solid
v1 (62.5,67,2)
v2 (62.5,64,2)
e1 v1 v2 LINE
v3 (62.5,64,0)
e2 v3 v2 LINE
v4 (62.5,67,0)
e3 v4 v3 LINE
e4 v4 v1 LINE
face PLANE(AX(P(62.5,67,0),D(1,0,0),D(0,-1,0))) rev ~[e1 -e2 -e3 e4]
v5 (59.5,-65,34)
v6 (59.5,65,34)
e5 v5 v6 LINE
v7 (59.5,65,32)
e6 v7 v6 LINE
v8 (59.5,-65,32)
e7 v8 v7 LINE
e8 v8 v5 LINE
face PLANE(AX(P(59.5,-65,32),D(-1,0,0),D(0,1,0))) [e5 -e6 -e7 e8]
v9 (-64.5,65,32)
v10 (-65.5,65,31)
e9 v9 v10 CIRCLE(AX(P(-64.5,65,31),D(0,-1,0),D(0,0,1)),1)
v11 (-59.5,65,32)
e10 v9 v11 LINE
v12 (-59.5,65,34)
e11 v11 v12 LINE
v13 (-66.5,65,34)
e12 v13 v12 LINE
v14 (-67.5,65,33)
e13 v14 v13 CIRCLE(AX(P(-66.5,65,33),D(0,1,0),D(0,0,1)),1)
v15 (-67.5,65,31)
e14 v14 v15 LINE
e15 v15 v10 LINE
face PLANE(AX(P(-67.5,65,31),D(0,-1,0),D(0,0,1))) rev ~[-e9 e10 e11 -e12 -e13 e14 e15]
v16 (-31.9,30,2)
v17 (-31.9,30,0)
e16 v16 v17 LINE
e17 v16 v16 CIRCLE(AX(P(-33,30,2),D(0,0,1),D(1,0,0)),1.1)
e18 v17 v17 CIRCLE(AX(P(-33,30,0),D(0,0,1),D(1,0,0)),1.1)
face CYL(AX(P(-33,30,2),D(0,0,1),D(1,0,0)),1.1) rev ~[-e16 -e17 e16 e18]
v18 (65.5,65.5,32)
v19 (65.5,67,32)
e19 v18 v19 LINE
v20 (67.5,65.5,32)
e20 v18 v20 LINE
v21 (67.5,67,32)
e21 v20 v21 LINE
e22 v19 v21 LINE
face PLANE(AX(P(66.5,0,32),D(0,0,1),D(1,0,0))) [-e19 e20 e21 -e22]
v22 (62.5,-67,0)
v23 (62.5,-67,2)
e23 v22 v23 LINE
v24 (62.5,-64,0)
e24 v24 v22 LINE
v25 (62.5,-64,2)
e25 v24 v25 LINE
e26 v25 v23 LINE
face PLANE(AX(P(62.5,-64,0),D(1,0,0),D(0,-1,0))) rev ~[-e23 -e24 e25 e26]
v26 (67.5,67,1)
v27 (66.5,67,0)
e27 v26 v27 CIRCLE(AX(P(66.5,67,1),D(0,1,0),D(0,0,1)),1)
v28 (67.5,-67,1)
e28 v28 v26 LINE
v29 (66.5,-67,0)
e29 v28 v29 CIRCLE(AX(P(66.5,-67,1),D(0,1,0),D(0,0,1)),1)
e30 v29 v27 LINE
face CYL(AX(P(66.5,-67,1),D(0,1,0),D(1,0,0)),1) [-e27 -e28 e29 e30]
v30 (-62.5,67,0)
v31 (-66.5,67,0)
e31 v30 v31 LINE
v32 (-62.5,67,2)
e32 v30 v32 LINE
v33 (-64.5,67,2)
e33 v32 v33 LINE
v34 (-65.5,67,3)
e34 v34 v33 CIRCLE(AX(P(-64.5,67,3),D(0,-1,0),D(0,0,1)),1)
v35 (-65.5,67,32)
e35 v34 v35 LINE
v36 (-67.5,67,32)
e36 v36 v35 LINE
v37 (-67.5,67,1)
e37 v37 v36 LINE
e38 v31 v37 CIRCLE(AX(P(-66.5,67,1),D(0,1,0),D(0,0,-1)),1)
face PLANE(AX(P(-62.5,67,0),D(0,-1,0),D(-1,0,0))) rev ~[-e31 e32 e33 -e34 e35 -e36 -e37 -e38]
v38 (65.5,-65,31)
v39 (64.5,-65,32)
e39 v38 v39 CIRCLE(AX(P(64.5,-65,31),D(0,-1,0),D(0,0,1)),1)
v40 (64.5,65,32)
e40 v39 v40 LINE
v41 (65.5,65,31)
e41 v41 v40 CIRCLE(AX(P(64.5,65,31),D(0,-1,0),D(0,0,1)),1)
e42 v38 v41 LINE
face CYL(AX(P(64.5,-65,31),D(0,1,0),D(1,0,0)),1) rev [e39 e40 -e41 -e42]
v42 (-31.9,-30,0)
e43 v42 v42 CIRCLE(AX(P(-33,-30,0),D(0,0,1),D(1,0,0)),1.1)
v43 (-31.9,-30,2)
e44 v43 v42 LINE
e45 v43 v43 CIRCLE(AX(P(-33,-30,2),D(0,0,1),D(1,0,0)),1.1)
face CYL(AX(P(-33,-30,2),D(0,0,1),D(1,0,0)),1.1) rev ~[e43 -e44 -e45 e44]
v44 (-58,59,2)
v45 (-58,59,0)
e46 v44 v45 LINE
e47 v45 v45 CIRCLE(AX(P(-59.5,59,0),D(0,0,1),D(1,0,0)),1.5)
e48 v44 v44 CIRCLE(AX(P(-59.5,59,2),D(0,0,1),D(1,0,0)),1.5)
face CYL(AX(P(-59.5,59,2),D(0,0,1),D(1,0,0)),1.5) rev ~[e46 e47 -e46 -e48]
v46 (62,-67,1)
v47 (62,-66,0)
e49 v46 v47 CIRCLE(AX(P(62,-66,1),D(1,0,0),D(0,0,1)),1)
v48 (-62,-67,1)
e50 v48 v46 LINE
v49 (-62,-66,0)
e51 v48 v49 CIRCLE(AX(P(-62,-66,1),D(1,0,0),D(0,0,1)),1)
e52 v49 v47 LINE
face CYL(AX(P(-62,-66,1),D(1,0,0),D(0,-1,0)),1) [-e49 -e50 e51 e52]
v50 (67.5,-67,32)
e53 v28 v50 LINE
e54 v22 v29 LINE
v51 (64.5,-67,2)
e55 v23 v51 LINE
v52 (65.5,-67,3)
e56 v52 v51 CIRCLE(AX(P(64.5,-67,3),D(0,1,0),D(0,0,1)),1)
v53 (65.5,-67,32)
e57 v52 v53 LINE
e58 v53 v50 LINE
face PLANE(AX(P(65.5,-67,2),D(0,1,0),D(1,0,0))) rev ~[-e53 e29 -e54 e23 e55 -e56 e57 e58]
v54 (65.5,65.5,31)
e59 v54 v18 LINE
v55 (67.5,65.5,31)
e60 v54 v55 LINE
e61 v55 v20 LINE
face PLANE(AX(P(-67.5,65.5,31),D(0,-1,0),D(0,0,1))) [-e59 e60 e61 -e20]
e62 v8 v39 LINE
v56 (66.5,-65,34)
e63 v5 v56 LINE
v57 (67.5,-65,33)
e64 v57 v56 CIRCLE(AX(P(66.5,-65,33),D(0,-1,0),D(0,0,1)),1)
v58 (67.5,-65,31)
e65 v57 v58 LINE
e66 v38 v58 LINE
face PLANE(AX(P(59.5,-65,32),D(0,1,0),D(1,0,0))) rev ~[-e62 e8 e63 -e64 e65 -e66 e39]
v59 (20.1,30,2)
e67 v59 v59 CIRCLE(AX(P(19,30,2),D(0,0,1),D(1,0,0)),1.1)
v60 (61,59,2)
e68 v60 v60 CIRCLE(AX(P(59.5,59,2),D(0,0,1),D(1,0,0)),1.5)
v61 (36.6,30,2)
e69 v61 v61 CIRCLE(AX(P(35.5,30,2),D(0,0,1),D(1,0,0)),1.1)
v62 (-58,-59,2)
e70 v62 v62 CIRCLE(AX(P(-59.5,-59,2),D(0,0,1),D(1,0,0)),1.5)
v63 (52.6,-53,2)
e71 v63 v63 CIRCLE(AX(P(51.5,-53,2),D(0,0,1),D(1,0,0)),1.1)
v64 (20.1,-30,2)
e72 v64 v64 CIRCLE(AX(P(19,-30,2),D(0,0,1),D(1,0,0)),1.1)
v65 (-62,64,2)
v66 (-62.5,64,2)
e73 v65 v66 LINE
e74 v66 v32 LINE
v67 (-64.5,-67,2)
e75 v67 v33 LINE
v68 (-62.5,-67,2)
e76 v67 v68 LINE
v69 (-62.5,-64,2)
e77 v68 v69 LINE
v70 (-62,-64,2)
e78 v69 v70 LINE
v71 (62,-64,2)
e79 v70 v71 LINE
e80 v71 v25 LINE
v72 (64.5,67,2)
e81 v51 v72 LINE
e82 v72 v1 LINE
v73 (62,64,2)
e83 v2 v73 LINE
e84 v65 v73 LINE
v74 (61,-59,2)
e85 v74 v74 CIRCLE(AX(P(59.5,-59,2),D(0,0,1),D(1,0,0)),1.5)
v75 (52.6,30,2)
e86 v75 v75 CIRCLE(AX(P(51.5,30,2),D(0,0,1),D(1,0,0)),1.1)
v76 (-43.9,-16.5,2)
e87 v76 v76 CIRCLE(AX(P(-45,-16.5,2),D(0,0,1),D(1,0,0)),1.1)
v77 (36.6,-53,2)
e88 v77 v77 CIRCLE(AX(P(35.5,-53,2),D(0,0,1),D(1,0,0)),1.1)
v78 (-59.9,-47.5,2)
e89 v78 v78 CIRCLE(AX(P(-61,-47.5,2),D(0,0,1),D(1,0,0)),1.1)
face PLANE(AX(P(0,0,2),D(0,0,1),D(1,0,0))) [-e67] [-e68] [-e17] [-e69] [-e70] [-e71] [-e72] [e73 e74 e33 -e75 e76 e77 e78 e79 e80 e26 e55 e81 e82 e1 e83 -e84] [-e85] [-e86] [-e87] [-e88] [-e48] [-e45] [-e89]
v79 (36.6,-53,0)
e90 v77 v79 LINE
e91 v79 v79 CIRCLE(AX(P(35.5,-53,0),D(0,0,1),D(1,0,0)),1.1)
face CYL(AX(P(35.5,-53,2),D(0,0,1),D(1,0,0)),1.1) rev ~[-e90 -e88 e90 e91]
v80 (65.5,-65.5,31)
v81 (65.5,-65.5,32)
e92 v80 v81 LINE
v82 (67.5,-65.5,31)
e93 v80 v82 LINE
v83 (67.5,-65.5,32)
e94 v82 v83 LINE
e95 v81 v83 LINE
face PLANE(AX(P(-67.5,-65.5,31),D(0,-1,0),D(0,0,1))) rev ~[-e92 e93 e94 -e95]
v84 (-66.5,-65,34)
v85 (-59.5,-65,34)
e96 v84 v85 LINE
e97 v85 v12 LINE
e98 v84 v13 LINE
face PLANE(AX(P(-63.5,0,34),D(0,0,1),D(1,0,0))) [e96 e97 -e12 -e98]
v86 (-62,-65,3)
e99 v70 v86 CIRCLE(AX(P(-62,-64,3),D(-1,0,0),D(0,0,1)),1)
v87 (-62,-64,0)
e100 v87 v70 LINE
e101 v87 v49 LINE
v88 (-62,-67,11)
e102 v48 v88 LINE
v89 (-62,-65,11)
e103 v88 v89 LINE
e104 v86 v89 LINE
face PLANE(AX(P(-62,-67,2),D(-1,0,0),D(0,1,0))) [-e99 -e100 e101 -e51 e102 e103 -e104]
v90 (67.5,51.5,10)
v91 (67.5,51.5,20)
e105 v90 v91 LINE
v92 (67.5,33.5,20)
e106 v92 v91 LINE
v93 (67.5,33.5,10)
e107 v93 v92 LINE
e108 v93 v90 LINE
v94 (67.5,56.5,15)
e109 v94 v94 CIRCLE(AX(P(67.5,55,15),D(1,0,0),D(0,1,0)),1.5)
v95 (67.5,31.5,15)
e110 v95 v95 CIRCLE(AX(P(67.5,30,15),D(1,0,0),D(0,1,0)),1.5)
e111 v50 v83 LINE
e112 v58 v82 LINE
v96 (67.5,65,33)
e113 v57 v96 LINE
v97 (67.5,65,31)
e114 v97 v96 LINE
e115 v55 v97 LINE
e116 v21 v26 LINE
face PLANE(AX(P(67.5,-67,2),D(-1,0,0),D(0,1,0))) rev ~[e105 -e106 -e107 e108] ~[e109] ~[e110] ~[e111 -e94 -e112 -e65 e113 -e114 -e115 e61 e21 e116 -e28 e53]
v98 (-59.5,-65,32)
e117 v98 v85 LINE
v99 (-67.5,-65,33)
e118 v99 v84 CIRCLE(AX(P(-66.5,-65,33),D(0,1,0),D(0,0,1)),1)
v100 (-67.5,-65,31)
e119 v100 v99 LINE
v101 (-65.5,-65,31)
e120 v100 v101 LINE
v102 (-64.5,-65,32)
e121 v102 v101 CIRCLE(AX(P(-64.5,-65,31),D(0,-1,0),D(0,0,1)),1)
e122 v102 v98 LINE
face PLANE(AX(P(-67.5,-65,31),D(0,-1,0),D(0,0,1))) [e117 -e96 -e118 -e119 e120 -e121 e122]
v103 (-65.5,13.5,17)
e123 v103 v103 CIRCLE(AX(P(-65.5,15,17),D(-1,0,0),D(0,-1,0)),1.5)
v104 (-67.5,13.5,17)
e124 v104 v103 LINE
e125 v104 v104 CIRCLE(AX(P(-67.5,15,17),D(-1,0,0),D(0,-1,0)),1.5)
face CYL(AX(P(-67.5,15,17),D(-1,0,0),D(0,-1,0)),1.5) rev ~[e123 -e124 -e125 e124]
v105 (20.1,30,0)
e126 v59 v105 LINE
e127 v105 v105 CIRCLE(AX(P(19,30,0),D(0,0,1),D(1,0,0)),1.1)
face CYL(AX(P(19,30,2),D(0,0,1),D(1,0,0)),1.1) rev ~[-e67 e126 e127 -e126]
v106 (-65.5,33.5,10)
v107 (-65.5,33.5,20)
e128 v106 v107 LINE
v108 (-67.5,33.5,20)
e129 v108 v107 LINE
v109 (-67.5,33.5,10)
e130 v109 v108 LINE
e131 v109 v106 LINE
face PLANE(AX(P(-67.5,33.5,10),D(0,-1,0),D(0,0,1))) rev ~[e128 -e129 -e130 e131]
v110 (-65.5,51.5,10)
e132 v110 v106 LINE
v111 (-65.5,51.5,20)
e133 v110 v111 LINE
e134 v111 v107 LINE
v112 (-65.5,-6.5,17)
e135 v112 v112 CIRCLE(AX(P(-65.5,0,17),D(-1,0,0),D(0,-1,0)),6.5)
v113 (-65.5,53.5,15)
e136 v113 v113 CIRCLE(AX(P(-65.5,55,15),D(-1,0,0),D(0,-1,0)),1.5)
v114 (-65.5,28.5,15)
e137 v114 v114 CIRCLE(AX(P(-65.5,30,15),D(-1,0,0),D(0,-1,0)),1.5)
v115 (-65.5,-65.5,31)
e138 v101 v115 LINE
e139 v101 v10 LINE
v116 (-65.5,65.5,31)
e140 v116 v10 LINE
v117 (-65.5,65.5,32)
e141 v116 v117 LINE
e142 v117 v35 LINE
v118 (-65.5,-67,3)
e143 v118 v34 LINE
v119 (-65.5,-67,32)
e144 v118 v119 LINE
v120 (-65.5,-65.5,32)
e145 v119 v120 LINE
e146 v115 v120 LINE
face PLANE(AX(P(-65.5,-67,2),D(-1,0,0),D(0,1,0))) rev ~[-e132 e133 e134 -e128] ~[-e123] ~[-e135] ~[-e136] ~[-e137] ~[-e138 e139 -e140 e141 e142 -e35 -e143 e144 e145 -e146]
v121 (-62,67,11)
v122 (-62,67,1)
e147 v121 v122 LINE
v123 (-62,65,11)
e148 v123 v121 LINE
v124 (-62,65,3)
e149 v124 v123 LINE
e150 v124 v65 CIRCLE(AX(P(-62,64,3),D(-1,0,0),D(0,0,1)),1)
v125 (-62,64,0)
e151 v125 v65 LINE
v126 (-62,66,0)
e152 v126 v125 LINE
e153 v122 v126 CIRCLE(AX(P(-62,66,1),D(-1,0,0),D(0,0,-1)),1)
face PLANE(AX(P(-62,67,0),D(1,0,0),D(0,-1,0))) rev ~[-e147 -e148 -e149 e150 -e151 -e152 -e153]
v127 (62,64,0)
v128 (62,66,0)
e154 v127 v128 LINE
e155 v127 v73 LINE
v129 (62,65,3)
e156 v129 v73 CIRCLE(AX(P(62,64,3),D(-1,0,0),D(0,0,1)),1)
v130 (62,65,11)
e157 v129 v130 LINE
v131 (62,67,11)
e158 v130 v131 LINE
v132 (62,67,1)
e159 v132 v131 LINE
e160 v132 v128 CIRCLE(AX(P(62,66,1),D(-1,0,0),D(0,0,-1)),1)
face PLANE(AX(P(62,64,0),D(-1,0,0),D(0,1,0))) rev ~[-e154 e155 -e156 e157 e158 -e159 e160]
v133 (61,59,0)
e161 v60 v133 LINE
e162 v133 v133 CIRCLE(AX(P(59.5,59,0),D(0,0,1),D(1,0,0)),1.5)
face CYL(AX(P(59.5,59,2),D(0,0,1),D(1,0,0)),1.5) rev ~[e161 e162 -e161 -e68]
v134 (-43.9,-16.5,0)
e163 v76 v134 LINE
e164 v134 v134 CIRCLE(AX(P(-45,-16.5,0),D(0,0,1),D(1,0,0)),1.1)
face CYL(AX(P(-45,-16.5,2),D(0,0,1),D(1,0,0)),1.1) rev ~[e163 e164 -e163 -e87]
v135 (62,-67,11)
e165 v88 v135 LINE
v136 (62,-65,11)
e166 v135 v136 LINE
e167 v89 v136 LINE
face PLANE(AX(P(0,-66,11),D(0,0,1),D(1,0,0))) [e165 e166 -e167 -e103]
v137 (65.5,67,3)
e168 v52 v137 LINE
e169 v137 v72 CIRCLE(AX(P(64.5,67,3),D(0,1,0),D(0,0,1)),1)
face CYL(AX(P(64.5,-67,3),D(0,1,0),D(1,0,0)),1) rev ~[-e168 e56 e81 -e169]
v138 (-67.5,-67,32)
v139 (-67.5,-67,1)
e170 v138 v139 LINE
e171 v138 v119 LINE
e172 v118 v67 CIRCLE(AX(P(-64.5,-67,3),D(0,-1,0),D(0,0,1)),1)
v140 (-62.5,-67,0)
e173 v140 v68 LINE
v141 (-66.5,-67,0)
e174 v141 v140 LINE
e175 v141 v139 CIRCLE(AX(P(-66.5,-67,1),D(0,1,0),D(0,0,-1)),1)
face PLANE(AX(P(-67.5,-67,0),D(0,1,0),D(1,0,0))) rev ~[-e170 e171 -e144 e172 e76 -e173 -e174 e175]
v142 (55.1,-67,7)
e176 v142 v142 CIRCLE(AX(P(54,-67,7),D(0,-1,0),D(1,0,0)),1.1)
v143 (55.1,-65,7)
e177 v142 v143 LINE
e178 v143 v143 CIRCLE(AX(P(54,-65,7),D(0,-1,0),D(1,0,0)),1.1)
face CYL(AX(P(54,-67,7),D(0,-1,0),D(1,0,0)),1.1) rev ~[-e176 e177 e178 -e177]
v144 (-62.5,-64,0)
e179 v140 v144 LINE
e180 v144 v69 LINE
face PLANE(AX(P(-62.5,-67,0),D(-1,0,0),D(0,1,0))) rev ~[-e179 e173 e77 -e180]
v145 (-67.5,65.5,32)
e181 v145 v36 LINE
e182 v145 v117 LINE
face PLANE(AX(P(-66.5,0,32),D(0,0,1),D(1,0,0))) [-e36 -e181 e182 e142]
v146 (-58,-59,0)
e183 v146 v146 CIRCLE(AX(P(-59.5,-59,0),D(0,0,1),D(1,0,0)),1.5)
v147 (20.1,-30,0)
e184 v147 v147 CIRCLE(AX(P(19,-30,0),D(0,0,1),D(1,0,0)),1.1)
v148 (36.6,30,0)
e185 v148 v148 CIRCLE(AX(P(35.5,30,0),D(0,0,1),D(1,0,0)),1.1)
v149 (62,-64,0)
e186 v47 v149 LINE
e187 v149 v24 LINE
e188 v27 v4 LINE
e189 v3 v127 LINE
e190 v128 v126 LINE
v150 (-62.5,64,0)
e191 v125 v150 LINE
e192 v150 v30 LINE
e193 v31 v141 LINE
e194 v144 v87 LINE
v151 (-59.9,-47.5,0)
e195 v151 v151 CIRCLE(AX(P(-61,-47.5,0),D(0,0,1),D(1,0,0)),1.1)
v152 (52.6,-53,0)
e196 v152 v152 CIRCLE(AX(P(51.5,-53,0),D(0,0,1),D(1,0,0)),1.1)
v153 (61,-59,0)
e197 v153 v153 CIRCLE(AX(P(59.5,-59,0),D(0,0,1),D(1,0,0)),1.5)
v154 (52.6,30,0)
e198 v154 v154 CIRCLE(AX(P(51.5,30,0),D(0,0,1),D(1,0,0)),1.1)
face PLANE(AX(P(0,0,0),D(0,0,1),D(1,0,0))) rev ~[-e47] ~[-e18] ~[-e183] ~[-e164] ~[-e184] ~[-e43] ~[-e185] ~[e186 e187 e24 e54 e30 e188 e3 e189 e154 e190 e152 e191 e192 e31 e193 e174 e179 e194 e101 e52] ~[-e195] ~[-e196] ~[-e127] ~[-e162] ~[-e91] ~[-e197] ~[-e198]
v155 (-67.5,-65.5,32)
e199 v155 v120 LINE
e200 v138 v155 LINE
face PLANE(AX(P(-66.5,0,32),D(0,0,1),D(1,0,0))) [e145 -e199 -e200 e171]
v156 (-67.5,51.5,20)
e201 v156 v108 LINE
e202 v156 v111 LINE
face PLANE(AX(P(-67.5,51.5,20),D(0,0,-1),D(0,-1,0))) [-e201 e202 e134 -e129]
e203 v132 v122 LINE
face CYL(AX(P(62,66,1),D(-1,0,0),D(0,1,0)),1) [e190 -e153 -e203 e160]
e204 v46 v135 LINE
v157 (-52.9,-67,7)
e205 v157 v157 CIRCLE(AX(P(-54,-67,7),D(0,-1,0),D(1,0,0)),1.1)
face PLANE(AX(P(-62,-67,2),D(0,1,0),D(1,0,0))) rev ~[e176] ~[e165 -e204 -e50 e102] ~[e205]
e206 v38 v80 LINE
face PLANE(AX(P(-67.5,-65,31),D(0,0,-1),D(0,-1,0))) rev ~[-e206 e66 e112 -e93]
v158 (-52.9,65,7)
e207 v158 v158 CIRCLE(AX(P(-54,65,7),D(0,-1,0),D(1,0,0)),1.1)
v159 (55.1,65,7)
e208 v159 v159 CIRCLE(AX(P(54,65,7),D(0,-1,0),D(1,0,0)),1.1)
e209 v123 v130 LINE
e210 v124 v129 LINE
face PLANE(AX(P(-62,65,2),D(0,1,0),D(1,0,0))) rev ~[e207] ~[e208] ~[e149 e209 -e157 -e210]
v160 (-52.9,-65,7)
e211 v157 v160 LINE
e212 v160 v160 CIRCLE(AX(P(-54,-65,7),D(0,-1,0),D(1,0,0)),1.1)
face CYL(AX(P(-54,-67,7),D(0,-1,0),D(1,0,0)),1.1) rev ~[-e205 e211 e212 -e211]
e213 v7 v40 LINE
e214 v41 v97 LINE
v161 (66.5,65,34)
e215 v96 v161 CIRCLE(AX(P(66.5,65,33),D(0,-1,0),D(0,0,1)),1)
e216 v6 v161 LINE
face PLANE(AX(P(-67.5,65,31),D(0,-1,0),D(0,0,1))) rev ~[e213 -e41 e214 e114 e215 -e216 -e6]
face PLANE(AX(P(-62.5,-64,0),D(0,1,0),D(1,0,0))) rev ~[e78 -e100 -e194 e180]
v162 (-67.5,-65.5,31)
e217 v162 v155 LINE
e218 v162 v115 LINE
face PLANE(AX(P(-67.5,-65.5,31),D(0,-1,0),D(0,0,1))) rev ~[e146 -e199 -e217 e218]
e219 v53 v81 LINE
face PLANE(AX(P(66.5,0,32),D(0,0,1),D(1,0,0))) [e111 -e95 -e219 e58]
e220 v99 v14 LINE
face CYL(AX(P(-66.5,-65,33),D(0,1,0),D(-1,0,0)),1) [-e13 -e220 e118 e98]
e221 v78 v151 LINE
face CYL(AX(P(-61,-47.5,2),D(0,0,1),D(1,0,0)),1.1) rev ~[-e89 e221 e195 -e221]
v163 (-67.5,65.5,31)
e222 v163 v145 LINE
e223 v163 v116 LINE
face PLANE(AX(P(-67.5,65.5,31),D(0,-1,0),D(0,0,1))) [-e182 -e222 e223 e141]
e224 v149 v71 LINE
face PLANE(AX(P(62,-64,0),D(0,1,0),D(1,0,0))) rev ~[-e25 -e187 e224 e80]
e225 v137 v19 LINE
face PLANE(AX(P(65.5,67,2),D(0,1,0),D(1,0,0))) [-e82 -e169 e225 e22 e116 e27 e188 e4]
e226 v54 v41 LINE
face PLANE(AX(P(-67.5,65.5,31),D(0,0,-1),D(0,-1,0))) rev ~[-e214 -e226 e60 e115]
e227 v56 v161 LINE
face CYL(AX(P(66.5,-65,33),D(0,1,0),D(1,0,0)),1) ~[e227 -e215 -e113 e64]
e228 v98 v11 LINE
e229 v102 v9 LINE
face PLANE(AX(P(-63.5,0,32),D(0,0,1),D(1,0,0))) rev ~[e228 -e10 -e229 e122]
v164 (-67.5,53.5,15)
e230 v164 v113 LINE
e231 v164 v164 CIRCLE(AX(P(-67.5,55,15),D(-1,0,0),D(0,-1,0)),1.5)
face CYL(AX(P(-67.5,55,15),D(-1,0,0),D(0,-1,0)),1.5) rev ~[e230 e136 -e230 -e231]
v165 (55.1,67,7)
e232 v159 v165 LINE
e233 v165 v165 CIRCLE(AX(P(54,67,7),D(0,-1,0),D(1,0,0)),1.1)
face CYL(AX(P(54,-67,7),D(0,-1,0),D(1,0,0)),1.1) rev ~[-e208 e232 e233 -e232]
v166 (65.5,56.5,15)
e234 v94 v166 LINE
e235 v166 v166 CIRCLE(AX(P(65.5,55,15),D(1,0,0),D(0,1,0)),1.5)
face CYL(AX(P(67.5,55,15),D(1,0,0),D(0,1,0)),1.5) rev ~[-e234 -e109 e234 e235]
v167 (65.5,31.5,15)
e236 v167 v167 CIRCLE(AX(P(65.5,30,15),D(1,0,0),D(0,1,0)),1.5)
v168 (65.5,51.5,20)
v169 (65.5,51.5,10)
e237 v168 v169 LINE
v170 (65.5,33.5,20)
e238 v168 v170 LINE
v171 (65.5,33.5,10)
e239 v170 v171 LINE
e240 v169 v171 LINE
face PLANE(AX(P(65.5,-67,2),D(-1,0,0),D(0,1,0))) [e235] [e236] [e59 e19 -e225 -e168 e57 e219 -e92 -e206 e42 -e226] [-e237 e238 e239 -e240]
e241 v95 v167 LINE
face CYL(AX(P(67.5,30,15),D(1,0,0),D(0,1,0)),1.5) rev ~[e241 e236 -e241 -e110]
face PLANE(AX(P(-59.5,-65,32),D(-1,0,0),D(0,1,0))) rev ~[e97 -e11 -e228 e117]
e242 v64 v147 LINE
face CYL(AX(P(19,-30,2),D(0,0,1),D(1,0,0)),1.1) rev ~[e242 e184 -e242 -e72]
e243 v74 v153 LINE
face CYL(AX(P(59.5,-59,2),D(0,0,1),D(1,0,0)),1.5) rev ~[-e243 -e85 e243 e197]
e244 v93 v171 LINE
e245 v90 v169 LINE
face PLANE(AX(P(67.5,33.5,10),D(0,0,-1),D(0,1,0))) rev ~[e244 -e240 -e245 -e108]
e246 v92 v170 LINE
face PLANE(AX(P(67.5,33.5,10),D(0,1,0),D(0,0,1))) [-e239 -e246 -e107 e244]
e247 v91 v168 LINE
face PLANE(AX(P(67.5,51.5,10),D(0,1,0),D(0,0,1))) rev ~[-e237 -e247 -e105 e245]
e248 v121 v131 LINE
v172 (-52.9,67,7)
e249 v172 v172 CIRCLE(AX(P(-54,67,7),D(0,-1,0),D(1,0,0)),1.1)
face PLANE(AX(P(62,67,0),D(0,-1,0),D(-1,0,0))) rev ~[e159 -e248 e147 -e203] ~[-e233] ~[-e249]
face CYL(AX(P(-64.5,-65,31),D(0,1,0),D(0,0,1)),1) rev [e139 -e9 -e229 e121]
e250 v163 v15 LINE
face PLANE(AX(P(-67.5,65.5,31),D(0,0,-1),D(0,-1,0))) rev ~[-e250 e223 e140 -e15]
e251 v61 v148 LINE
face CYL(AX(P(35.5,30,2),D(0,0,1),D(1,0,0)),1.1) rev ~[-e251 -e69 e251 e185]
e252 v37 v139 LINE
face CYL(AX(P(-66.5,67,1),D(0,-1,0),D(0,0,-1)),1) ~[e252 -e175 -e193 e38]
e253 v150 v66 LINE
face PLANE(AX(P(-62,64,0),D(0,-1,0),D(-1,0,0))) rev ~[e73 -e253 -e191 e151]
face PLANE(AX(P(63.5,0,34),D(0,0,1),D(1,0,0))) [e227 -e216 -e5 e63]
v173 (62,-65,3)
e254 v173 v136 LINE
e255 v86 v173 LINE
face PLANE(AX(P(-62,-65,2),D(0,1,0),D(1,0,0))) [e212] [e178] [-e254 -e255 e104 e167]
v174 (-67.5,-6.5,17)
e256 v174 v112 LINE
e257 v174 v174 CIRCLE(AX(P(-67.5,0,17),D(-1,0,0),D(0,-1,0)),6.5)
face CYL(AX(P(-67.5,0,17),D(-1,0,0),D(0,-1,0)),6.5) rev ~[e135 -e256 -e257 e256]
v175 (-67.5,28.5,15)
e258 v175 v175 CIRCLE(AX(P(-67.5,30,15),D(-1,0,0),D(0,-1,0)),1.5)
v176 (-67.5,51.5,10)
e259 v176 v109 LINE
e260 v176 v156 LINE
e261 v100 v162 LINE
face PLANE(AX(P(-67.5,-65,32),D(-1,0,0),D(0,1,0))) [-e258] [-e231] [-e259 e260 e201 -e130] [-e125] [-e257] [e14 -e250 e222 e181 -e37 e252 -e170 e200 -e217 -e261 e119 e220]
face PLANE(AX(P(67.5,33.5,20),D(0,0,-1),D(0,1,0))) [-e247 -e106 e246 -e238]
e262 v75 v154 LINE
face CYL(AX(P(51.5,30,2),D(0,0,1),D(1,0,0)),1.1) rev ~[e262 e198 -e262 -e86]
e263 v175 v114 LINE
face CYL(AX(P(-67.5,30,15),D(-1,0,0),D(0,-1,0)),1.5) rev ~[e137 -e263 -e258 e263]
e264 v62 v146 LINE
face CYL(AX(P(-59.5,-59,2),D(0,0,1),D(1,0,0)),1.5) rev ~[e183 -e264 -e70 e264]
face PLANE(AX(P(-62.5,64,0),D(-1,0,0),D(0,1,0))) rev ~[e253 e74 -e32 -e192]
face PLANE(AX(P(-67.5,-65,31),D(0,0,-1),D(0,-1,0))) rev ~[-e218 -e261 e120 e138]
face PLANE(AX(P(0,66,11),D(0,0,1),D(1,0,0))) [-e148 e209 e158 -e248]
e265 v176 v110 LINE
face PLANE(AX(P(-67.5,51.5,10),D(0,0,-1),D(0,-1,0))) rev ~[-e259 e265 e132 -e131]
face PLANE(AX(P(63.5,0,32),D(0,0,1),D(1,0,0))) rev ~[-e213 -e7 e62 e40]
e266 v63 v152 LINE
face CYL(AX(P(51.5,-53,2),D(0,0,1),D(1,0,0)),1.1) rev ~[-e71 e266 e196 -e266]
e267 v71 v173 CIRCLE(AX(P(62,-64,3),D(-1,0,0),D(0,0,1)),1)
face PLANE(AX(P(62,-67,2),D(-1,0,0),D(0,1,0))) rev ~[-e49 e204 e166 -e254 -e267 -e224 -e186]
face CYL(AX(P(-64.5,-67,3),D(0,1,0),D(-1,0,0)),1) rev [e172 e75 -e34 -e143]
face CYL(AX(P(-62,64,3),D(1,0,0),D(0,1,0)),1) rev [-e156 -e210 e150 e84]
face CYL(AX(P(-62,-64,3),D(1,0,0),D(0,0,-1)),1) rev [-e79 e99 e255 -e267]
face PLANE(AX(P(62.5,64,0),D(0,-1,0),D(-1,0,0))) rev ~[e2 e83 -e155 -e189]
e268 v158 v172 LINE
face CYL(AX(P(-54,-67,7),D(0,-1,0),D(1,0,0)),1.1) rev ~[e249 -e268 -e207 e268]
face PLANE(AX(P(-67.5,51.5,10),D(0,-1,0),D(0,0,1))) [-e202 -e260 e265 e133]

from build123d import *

# Parameters (mm, degrees)
F1_DEPTH  = 2
F2_W      = 2
F2_H      = 134
F3_DEPTH  = 30
F4_R      = 1
F5_W      = 8
F5_H      = 130
F6_DEPTH  = 2
F7_R      = 1
F8_W      = 124
F8_H      = 2
F9_DEPTH  = 9
F10_R     = 1
F11_W     = 0.5
F11_H     = 1
F12_DEPTH = 135.001
F13_R     = 1.5
F13_R_2   = 6.5
F13_W     = 18
F13_H     = 10
F14_DEPTH = 3
F15_R     = 1.1
F15_R_2   = 1.5
F16_DEPTH = 3
F17_R     = 1.1
F18_DEPTH = 134.001
F19_R     = 1.5
F19_W     = 18
F19_H     = 10
F20_DEPTH = 3


with BuildPart() as f1:
    # F0 (on Top) → F1 (new body)
    with BuildSketch(Plane.XY):
        Polygon((62.5, -67), (67.5, -67), (67.5, 67), (62.5, 67), (62.5, 64), (62, 64), (62, 67), (-62, 67), (-62, 64), (-62.5, 64), (-62.5, 67), (-67.5, 67), (-67.5, -67), (-62.5, -67), (-62.5, -64), (-62, -64), (-62, -67), (62, -67), (62, -64), (62.5, -64), align=None)
    extrude(amount=F1_DEPTH)

    # F2 (on face) → F3 (join)
    with BuildSketch(Plane.XY.offset(2)):
        with Locations((66.5, 0)):
            Rectangle(F2_W, F2_H)
        with Locations((-66.5, 0)):
            Rectangle(F2_W, F2_H)
    extrude(amount=F3_DEPTH)

    # F4
    f4_edges = [f1.edges().sort_by_distance(p)[0] for p in [
        (-67.5, 0, 0),
        (67.5, 0, 0),
        (-65.5, 0, 2),
        (65.5, 0, 2),
    ]]
    fillet(f4_edges, radius=F4_R)

    # F5 (on face) → F6 (join)
    with BuildSketch(Plane.XY.offset(32)):
        with Locations((-63.5, 0)):
            Rectangle(F5_W, F5_H)
        with Locations((63.5, 0)):
            Rectangle(F5_W, F5_H)
    extrude(amount=F6_DEPTH)

    # F7
    f7_edges = [f1.edges().sort_by_distance(p)[0] for p in [
        (-67.5, 0, 34),
        (67.5, 0, 34),
        (-65.5, 0, 32),
        (65.5, 0, 32),
    ]]
    fillet(f7_edges, radius=F7_R)

    # F8 (on face) → F9 (join)
    with BuildSketch(Plane.XY.offset(2)):
        with Locations((0, -66)):
            Rectangle(F8_W, F8_H)
        with Locations((0, 66)):
            Rectangle(F8_W, F8_H)
    extrude(amount=F9_DEPTH)

    # F10
    f10_edges = [f1.edges().sort_by_distance(p)[0] for p in [
        (0, -67, 0),
        (0, -65, 2),
        (0, 65, 2),
        (0, 67, 0),
    ]]
    fillet(f10_edges, radius=F10_R)

    # F11 (on face) → F12 (cut, through all)
    with BuildSketch(Plane(origin=(-67.5, 0, 0), x_dir=(0, -1, 0), z_dir=(-1, 0, 0))):
        with Locations((65.25, 31.5)):
            Rectangle(F11_W, F11_H)
        with Locations((-65.25, 31.5)):
            Rectangle(F11_W, F11_H)
    extrude(amount=-F12_DEPTH, mode=Mode.SUBTRACT)

    # F13 (on face) → F14 (cut)
    with BuildSketch(Plane(origin=(-67.5, 0, 0), x_dir=(0, -1, 0), z_dir=(-1, 0, 0))):
        with Locations((-55, 15)):
            Circle(F13_R)
        with Locations((-30, 15)):
            Circle(F13_R)
        with Locations((0, 17)):
            Circle(F13_R_2)
        with Locations((-15, 17)):
            Circle(F13_R)
        with Locations((-42.5, 15)):
            Rectangle(F13_W, F13_H)
    extrude(amount=-F14_DEPTH, mode=Mode.SUBTRACT)

    # F15 (on face) → F16 (cut)
    with BuildSketch(Plane.XY.offset(2)):
        with Locations((-33, 30)):
            Circle(F15_R)
        with Locations((19, 30)):
            Circle(F15_R)
        with Locations((-33, -30)):
            Circle(F15_R)
        with Locations((19, -30)):
            Circle(F15_R)
        with Locations((-45, -16.5)):
            Circle(F15_R)
        with Locations((-61, -47.5)):
            Circle(F15_R)
        with Locations((-59.5, 59)):
            Circle(F15_R_2)
        with Locations((59.5, 59)):
            Circle(F15_R_2)
        with Locations((-59.5, -59)):
            Circle(F15_R_2)
        with Locations((59.5, -59)):
            Circle(F15_R_2)
        with Locations((35.5, 30)):
            Circle(F15_R)
        with Locations((51.5, 30)):
            Circle(F15_R)
        with Locations((35.5, -53)):
            Circle(F15_R)
        with Locations((51.5, -53)):
            Circle(F15_R)
    extrude(amount=-F16_DEPTH, mode=Mode.SUBTRACT)

    # F17 (on face) → F18 (cut, through all)
    with BuildSketch(Plane.XZ.offset(67)):
        with Locations((54, 7)):
            Circle(F17_R)
        with Locations((-54, 7)):
            Circle(F17_R)
    extrude(amount=-F18_DEPTH, mode=Mode.SUBTRACT)

    # F19 (on face) → F20 (cut)
    with BuildSketch(Plane.YZ.offset(67.5)):
        with Locations((30, 15)):
            Circle(F19_R)
        with Locations((55, 15)):
            Circle(F19_R)
        with Locations((42.5, 15)):
            Rectangle(F19_W, F19_H)
    extrude(amount=-F20_DEPTH, mode=Mode.SUBTRACT)


solid = f1.part
